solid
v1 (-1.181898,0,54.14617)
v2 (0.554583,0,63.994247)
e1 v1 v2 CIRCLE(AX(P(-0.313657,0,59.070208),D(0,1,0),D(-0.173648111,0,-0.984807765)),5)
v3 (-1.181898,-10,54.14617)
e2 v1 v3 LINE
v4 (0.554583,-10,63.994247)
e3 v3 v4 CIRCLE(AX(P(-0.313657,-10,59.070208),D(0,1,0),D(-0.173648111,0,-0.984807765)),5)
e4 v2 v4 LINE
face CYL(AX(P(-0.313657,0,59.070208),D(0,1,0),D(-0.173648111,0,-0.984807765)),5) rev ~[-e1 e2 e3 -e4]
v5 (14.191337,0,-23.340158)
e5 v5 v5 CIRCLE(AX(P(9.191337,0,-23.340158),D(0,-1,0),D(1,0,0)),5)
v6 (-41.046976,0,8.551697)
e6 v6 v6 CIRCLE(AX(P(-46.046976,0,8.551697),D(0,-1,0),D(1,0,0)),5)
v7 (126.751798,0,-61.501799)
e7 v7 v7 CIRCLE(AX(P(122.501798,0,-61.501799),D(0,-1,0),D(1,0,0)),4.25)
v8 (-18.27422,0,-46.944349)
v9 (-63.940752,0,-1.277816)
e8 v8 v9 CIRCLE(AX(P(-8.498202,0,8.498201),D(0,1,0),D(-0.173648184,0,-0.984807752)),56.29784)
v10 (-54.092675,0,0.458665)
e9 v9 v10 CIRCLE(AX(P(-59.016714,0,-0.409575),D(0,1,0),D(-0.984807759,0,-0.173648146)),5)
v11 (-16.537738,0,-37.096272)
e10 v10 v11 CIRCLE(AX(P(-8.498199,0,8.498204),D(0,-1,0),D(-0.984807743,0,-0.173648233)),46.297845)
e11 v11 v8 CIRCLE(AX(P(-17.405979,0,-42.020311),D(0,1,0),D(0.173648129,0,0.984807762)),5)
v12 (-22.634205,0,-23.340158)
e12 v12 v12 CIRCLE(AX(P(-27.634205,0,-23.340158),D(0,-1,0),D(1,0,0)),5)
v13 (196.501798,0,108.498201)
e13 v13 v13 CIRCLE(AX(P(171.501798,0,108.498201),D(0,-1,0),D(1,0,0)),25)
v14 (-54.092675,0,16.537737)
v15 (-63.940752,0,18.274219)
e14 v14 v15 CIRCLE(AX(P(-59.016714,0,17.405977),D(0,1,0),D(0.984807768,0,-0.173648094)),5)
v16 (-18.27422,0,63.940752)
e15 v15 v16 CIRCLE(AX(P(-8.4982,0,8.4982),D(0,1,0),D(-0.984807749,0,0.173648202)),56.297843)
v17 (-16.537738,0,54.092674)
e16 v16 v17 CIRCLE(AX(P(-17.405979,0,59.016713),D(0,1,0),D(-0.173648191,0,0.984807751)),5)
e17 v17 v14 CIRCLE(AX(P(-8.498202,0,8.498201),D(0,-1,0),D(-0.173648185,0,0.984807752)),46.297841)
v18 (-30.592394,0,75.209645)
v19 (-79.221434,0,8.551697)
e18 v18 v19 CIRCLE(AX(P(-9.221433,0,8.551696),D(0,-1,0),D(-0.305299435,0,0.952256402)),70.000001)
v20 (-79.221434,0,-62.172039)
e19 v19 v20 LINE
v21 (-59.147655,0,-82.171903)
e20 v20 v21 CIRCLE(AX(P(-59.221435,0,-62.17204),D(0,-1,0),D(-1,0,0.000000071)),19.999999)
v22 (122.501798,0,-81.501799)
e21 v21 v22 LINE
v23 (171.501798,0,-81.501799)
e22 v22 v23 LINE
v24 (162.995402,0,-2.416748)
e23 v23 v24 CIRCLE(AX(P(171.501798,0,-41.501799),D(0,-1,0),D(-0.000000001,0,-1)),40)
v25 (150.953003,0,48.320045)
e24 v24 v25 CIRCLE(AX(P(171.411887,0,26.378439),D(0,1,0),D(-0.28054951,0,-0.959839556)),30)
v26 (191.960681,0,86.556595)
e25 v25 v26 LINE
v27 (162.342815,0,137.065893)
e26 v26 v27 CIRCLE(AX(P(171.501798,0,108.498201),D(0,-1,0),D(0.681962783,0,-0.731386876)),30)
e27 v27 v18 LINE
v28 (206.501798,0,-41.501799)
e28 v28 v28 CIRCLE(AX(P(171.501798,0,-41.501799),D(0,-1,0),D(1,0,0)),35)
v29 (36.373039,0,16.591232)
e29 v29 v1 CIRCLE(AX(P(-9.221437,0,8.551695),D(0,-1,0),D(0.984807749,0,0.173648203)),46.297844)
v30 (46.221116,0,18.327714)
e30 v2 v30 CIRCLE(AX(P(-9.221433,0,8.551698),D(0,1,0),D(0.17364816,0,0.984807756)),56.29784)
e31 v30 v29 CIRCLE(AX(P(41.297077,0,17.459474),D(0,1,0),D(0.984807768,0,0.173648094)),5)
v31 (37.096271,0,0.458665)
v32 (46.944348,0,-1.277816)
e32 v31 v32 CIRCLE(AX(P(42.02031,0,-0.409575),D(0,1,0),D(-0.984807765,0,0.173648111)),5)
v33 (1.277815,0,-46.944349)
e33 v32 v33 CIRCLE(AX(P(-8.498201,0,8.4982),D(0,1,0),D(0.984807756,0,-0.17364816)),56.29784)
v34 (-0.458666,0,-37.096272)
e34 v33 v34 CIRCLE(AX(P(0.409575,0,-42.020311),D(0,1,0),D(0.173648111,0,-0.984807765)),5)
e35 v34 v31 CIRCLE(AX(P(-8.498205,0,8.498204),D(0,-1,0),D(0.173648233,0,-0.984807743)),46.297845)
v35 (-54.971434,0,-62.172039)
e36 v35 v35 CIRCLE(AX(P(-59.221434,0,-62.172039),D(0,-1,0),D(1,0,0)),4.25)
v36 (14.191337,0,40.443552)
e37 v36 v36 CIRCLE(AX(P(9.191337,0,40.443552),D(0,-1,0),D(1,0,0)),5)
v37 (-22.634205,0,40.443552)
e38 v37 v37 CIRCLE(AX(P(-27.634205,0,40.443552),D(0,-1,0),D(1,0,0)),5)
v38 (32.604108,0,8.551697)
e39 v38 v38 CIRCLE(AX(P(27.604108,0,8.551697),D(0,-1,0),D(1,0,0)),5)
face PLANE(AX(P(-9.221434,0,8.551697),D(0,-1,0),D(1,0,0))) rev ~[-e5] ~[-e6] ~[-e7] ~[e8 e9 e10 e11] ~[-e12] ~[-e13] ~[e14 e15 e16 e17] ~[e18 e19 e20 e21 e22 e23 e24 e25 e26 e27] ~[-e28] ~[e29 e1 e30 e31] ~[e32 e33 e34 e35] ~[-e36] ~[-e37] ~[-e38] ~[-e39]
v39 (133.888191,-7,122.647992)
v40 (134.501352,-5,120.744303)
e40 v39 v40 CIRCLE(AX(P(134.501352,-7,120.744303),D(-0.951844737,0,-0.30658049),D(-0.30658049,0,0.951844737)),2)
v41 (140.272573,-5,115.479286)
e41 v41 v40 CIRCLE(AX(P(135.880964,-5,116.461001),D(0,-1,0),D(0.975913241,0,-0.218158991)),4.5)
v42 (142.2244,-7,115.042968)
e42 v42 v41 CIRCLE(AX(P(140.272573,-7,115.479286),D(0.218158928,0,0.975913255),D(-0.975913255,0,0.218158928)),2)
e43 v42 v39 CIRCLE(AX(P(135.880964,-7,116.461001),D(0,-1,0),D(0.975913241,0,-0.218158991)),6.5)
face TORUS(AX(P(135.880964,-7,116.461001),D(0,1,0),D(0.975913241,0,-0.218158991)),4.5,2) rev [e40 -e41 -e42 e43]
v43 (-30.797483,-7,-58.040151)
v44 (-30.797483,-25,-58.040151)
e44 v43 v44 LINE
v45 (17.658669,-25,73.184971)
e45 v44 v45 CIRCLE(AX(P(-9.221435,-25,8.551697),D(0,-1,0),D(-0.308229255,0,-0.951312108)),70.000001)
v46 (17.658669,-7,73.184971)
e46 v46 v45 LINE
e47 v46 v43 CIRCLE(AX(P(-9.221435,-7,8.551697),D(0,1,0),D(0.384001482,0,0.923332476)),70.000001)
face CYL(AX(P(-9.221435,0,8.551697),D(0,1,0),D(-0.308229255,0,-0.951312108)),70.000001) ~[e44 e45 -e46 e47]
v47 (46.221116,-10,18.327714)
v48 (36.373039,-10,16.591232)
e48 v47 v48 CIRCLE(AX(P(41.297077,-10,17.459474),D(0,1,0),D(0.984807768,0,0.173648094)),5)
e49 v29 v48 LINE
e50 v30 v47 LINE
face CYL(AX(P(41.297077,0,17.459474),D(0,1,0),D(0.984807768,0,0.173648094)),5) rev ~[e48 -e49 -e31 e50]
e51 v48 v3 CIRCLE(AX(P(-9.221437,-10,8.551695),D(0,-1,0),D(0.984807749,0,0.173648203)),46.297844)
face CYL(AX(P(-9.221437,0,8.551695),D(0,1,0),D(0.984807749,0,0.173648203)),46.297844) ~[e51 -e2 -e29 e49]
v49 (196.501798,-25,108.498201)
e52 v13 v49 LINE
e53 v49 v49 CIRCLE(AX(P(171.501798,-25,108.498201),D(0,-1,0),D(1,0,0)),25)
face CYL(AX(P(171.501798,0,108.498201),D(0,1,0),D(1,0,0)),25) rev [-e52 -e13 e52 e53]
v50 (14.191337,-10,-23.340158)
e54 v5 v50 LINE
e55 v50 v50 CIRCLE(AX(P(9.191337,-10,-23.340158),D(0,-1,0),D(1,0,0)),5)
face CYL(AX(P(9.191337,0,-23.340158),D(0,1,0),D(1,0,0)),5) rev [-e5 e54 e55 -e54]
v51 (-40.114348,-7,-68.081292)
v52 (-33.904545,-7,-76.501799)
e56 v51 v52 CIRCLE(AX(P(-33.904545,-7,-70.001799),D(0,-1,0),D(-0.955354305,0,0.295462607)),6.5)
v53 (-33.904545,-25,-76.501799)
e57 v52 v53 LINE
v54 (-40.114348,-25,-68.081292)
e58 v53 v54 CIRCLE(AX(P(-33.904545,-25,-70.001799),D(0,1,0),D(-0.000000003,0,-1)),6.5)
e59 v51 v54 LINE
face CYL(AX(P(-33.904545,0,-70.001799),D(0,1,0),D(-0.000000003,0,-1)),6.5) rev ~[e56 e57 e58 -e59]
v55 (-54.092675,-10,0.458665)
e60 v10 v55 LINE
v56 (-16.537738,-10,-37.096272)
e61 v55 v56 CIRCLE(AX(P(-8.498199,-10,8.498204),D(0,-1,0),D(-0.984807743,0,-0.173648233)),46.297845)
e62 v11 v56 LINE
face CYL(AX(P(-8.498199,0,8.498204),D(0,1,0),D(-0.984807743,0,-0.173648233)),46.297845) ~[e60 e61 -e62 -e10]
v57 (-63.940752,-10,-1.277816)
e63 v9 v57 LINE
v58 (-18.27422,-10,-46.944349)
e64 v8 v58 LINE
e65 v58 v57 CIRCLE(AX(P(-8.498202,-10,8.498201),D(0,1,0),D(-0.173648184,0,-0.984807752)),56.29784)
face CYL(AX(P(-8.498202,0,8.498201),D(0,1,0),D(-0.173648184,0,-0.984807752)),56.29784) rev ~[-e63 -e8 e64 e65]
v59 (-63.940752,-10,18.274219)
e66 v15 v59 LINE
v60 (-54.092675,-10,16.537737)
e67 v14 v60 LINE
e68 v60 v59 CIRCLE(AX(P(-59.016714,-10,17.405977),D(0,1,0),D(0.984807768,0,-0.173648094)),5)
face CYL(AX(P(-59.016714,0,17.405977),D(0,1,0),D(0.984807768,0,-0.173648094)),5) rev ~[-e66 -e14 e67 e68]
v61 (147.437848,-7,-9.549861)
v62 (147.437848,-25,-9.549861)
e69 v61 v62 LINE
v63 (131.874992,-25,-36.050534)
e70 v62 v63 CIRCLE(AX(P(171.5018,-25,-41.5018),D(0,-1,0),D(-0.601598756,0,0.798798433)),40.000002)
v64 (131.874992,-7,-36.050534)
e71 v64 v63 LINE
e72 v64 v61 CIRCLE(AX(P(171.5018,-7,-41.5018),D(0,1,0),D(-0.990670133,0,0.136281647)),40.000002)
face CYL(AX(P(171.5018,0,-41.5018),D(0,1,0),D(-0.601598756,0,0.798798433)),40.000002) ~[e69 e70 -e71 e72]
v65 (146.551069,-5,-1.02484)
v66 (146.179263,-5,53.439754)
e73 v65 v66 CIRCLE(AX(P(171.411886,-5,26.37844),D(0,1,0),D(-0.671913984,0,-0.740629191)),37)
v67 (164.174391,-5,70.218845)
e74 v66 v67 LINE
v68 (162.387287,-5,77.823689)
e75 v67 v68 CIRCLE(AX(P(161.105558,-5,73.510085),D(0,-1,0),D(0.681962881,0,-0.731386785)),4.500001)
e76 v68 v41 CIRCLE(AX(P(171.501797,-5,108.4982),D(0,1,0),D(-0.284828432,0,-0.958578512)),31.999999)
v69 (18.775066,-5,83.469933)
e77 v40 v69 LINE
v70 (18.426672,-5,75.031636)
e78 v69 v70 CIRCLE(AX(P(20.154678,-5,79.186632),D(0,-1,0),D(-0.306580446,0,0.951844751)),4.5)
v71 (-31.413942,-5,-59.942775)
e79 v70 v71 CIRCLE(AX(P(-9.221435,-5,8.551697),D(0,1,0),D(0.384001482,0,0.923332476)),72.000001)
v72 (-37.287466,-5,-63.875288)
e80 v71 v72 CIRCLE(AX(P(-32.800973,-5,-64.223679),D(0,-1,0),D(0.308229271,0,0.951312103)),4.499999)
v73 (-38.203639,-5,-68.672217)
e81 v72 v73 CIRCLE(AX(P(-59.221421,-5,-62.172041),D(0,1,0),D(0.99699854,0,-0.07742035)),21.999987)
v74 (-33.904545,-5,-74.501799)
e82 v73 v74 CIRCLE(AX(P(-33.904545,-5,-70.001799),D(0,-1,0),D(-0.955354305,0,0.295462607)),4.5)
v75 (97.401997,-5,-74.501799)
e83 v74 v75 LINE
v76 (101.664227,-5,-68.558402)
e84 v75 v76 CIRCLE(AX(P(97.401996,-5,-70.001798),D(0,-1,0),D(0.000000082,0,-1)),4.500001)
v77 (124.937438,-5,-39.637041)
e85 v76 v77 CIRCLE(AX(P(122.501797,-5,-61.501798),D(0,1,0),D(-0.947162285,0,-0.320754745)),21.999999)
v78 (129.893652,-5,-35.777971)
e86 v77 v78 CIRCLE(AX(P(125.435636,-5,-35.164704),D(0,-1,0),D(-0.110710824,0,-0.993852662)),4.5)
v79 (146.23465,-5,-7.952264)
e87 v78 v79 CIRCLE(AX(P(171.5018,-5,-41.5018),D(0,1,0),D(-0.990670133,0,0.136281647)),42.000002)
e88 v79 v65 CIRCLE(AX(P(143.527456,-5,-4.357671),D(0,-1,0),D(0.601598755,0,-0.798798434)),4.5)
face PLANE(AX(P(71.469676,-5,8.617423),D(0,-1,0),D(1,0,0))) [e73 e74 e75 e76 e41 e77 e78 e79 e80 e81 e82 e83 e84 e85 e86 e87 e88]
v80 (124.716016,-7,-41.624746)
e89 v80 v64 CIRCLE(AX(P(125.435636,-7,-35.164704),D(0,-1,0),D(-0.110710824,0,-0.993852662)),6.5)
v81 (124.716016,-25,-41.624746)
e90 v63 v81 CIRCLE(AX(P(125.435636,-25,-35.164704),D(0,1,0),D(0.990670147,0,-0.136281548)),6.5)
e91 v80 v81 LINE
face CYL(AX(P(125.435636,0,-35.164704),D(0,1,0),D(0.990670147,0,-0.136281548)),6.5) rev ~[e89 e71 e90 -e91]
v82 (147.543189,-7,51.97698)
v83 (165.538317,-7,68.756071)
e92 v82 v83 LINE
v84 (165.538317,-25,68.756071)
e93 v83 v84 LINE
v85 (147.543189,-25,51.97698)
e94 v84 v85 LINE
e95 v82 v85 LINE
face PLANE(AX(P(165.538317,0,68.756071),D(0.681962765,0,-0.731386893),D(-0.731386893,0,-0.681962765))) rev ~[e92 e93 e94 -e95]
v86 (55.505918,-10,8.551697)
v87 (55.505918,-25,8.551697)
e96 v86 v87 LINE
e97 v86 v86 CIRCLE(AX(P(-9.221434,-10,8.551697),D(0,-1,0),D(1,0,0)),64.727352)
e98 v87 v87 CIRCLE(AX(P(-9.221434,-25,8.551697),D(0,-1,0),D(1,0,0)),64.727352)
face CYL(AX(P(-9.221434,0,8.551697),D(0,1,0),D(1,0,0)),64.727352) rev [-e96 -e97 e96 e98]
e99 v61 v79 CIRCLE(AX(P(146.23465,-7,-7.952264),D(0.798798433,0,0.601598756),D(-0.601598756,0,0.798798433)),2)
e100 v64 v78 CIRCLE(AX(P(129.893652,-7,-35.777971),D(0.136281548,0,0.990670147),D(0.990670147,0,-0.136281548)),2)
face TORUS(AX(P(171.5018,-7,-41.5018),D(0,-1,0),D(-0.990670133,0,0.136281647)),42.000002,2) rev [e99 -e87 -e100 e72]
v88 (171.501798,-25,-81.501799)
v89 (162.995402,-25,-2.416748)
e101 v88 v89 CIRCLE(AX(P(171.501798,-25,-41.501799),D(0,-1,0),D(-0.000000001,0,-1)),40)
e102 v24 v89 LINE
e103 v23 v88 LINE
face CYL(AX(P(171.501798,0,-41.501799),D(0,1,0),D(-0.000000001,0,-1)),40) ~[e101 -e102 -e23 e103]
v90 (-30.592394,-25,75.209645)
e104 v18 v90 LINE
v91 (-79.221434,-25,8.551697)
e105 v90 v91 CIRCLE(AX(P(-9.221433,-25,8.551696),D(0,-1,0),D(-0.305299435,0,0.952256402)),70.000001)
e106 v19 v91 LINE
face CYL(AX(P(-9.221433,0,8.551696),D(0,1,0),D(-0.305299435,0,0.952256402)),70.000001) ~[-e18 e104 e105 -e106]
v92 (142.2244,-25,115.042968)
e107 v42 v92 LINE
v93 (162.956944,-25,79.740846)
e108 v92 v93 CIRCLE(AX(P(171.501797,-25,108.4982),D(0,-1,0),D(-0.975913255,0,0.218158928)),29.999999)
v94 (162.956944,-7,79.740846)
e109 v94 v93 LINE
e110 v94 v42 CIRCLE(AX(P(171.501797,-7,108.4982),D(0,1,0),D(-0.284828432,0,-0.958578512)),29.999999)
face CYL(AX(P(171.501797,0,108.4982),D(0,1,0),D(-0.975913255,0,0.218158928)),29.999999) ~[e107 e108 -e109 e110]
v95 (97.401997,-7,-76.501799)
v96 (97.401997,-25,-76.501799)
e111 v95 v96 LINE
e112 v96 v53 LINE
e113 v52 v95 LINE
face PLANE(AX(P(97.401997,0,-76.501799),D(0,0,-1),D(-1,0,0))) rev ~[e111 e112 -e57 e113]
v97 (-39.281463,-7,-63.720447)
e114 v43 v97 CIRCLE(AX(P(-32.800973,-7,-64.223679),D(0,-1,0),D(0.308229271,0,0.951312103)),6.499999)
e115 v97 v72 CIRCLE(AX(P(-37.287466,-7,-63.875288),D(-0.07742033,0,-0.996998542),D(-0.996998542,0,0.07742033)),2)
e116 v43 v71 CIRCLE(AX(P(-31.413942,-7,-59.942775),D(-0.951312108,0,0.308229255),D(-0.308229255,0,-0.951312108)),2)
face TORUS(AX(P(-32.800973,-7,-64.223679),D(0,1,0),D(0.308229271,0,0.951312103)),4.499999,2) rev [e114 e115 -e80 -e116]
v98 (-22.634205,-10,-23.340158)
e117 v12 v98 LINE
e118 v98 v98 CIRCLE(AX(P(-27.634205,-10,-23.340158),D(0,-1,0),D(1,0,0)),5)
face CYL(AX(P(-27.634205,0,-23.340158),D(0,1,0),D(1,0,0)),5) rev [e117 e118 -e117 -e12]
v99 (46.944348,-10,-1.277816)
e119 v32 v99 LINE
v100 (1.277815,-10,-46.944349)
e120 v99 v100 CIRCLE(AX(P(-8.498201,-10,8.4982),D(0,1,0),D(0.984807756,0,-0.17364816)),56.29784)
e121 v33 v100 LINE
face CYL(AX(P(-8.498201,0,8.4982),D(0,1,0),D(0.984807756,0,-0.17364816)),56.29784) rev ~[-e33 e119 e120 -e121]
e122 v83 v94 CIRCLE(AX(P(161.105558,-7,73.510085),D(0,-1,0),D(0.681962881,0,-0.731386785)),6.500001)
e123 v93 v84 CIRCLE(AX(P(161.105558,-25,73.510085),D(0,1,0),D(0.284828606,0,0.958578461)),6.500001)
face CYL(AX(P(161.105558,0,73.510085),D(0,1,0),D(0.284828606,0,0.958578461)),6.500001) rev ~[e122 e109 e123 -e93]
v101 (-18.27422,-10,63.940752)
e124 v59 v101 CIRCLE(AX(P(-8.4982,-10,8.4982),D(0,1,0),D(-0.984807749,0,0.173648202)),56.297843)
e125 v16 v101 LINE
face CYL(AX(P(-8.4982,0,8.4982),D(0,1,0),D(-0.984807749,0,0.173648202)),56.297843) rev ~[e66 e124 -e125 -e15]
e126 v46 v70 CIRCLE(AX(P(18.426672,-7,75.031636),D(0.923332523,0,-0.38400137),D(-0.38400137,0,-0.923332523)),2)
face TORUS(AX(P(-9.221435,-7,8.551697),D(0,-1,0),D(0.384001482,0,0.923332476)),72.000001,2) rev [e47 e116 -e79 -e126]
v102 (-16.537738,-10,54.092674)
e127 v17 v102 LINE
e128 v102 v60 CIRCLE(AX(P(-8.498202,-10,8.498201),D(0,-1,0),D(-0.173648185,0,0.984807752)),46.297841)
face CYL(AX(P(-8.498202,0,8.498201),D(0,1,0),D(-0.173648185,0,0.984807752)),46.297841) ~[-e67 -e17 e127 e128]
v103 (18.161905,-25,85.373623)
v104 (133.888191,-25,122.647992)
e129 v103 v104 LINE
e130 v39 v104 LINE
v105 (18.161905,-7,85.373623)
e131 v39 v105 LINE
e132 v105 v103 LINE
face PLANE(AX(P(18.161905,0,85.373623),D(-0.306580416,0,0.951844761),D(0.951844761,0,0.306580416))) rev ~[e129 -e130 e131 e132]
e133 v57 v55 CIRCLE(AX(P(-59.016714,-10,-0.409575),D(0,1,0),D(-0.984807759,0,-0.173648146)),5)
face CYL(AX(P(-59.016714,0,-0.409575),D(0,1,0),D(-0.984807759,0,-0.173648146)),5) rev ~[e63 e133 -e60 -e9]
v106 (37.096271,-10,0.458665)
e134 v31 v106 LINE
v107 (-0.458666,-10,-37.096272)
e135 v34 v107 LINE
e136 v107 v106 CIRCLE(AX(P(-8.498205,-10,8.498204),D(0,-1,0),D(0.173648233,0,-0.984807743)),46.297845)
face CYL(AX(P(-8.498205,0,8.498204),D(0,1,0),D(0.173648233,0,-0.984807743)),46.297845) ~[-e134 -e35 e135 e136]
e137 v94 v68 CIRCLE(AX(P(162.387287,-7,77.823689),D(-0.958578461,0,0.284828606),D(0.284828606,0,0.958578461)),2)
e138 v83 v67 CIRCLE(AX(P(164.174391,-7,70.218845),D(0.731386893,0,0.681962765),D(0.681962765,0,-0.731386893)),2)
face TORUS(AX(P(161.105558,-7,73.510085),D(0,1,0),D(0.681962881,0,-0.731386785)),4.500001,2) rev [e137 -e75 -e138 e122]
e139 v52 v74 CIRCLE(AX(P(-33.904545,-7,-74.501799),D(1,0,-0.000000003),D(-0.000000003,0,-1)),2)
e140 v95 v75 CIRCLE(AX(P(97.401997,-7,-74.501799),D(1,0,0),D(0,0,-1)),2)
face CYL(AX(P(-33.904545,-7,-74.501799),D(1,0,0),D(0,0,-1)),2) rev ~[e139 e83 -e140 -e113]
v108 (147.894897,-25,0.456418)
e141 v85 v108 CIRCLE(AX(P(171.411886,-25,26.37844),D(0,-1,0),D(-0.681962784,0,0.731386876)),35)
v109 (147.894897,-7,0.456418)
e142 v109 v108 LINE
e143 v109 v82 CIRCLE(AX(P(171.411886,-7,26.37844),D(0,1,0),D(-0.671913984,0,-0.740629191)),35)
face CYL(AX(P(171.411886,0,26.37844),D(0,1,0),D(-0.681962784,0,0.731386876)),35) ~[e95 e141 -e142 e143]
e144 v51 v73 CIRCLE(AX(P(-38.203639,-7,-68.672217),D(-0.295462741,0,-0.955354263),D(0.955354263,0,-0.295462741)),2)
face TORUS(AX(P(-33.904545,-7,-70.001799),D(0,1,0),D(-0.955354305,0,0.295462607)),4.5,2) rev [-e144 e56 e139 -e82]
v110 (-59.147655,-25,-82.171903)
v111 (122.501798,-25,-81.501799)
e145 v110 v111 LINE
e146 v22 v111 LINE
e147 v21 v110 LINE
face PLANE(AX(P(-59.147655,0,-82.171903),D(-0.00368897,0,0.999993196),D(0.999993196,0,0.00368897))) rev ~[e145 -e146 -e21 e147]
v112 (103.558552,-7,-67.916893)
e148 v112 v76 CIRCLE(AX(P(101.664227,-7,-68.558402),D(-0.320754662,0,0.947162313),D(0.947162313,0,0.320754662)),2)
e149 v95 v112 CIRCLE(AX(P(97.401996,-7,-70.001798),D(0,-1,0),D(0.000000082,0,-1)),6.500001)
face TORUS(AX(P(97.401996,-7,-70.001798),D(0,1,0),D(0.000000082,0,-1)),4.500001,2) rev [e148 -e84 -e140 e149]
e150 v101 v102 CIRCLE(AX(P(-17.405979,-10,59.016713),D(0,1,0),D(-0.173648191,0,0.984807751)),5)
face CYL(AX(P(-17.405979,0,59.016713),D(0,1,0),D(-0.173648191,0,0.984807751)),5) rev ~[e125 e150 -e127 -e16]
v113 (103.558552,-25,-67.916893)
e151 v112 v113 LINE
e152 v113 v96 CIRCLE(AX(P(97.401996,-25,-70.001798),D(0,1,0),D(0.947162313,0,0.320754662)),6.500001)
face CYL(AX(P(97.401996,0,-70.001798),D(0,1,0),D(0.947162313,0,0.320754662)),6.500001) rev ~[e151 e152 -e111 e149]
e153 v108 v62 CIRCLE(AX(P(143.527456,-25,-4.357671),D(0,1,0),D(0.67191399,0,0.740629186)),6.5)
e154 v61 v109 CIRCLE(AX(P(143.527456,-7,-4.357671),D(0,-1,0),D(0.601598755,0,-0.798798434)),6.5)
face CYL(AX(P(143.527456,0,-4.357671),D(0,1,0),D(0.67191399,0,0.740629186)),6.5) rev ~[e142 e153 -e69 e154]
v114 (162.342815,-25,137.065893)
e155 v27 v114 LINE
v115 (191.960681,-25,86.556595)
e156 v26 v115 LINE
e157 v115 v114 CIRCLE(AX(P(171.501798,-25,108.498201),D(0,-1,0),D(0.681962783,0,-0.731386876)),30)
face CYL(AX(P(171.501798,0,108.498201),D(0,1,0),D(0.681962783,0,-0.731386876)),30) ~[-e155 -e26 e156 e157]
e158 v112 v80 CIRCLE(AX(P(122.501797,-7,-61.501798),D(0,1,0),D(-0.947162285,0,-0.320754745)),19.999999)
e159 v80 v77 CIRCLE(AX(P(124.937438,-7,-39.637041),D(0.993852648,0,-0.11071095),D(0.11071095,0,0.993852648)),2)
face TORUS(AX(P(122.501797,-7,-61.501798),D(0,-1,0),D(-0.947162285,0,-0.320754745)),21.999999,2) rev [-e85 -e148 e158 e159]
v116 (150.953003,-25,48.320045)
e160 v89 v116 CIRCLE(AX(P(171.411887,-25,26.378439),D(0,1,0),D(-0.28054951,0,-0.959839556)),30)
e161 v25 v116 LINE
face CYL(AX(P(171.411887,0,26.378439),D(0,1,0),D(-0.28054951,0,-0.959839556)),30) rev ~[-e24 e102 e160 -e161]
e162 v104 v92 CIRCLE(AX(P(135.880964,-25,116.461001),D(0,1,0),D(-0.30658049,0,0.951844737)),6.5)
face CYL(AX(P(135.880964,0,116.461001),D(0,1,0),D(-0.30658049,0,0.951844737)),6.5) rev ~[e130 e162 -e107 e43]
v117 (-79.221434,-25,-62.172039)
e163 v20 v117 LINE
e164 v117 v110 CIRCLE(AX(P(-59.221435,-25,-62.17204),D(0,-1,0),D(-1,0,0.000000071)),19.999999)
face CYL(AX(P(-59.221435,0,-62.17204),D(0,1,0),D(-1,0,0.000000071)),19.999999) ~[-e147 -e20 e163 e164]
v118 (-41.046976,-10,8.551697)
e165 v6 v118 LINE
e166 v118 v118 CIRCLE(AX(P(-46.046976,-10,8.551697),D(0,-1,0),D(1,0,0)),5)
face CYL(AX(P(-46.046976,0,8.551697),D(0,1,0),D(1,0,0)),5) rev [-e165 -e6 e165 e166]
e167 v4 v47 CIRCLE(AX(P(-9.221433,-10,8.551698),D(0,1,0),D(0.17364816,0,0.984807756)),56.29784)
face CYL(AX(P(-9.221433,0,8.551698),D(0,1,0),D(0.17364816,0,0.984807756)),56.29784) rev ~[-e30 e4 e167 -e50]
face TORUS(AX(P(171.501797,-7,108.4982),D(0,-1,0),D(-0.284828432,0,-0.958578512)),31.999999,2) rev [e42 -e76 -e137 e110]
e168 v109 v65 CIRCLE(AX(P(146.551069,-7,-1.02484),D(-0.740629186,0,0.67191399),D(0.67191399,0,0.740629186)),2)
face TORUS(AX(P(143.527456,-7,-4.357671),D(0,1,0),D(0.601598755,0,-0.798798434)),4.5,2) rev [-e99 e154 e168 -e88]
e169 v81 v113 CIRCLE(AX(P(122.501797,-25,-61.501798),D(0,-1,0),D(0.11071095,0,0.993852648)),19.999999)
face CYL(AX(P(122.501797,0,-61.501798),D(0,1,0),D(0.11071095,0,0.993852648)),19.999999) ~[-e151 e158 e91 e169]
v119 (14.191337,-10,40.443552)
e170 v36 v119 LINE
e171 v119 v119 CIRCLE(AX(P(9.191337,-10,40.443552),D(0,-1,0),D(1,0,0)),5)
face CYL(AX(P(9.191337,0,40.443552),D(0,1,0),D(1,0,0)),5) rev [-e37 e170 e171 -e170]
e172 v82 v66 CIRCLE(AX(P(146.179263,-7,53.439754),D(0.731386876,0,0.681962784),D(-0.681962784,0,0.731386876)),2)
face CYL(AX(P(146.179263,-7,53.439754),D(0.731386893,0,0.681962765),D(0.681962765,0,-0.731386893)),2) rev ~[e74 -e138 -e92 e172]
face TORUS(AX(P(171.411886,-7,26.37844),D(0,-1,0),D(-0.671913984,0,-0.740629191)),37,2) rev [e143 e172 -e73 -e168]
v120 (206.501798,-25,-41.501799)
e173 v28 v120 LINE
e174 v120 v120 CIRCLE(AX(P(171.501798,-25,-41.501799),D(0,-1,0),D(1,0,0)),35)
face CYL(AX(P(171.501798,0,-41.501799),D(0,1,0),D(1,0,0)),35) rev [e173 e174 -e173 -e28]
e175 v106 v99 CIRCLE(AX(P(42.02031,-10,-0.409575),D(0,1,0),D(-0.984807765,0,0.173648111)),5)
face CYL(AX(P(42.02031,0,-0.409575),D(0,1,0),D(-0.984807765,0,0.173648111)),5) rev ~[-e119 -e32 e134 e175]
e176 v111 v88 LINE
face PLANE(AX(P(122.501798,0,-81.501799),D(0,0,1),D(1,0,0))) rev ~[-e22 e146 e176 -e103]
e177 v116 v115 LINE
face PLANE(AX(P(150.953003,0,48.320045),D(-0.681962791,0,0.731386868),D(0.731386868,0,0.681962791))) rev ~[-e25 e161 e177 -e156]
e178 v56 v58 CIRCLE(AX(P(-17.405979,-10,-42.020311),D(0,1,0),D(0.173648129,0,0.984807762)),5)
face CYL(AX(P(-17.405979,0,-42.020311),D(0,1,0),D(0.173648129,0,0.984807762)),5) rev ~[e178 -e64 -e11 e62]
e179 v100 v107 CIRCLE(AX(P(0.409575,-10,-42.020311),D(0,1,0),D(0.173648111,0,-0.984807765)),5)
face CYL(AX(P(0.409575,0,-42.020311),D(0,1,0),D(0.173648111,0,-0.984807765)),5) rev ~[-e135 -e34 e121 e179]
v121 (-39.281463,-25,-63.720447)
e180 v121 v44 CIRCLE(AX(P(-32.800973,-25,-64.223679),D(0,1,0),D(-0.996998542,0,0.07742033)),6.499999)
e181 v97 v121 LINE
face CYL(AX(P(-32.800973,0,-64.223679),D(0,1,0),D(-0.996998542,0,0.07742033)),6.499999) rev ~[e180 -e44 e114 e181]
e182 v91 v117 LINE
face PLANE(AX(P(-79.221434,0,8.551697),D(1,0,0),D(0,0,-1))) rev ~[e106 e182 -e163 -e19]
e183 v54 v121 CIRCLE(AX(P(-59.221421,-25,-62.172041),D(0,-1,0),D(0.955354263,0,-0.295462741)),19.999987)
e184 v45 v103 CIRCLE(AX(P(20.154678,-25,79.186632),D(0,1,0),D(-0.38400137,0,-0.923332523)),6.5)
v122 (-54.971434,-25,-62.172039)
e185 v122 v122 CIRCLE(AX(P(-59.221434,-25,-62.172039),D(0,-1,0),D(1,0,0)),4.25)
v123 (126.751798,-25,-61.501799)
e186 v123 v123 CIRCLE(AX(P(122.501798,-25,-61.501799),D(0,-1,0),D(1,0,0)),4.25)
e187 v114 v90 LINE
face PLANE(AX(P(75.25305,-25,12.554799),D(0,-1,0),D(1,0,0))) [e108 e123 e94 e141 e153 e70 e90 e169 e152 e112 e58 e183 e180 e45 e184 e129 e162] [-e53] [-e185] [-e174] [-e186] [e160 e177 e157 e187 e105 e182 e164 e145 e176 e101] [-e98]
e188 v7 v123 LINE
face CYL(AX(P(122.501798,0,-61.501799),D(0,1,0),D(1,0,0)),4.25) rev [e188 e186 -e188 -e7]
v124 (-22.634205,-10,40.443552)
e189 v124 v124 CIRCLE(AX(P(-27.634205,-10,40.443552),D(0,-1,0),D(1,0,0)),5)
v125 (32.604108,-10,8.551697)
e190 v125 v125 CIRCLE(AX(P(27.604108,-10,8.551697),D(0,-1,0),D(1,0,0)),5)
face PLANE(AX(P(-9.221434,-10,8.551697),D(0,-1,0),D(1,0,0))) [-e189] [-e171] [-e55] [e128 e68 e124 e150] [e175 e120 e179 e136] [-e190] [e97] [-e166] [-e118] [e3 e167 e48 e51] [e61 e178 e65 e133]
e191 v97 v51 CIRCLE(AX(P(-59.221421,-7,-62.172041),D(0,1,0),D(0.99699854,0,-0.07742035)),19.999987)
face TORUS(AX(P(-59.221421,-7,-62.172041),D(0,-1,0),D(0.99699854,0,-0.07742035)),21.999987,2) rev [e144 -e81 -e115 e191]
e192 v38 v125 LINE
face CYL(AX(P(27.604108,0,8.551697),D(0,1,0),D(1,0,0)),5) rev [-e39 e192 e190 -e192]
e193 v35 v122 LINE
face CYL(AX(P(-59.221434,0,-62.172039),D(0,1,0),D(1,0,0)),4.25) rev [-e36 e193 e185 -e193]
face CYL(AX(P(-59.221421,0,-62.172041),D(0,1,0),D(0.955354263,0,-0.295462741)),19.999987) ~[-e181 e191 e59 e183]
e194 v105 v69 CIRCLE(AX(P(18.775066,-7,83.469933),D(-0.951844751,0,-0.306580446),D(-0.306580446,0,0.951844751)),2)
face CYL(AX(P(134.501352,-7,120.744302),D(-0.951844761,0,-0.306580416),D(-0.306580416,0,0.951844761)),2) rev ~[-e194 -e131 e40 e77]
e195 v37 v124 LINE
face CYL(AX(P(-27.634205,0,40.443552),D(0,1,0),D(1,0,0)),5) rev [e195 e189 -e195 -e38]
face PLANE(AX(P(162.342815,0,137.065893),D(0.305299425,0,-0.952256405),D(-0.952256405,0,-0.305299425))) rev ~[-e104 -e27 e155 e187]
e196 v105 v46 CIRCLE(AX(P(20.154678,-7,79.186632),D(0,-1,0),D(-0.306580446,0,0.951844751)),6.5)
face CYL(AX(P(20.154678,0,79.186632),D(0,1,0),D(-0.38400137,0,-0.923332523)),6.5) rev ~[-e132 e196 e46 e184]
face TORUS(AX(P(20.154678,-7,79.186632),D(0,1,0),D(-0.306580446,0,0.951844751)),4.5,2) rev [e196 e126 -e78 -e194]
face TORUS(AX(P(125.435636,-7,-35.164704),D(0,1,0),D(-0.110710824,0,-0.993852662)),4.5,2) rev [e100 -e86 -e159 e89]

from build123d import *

# Parameters (mm, degrees)
F0_R     = 4.25
F0_R_2   = 64.727352
F0_R_3   = 35
F0_R_4   = 25
F1_DEPTH = 25
F2_DEPTH = 5
F0_R_5   = 5
F3_DEPTH = 10
F4_R     = 2


with BuildPart() as f1:
    # F0 (on Front) → F1 (new body)
    with BuildSketch(Plane.XZ):
        with BuildLine():
            Line((-79.221434, 8.551697), (-79.221434, -62.172039))
            ThreePointArc((-79.221434, -62.172039), (-73.337461, -76.340236), (-59.147655, -82.171903))
            Line((-59.147655, -82.171903), (122.501798, -81.501799))
            Line((122.501798, -81.501799), (171.501798, -81.501799))
            ThreePointArc((171.501798, -81.501799), (211.272403, -37.224069), (162.995402, -2.416748))
            ThreePointArc((162.995402, -2.416748), (142.222809, 19.4504), (150.953003, 48.320045))
            Line((150.953003, 48.320045), (191.960681, 86.556595))
            ThreePointArc((191.960681, 86.556595), (197.380732, 123.673205), (162.342815, 137.065893))
            Line((162.342815, 137.065893), (-30.592394, 75.209645))
            ThreePointArc((-30.592394, 75.209645), (-65.772151, 49.807198), (-79.221434, 8.551697))
        make_face()
        with Locations((-59.221434, -62.172039)):
            Circle(F0_R, mode=Mode.SUBTRACT)
        with Locations((-9.221434, 8.551697)):
            Circle(F0_R_2, mode=Mode.SUBTRACT)
        with BuildLine():
            ThreePointArc((-39.281463, -63.720447), (-36.417231, -58.822506), (-30.797483, -58.040151))
            ThreePointArc((-30.797483, -58.040151), (56.444701, -15.696162), (17.658669, 73.184971))
            ThreePointArc((17.658669, 73.184971), (13.660211, 79.454771), (18.161905, 85.373623))
            Line((18.161905, 85.373623), (133.888191, 122.647992))
            ThreePointArc((133.888191, 122.647992), (140.261736, 121.262963), (142.2244, 115.042968))
            ThreePointArc((142.2244, 115.042968), (145.633078, 93.30579), (162.956944, 79.740846))
            ThreePointArc((162.956944, 79.740846), (167.433191, 74.997051), (165.538317, 68.756071))
            Line((165.538317, 68.756071), (147.543189, 51.97698))
            ThreePointArc((147.543189, 51.97698), (136.412702, 26.139516), (147.894897, 0.456418))
            ThreePointArc((147.894897, 0.456418), (150.020686, -4.654258), (147.437848, -9.549861))
            ThreePointArc((147.437848, -9.549861), (137.009777, -21.245923), (131.874992, -36.050534))
            ThreePointArc((131.874992, -36.050534), (129.428981, -40.293368), (124.716016, -41.624746))
            ThreePointArc((124.716016, -41.624746), (106.920259, -48.963232), (103.558552, -67.916893))
            ThreePointArc((103.558552, -67.916893), (102.684131, -73.789814), (97.401997, -76.501799))
            Line((97.401997, -76.501799), (-33.904545, -76.501799))
            ThreePointArc((-33.904545, -76.501799), (-39.135859, -73.859694), (-40.114348, -68.081292))
            ThreePointArc((-40.114348, -68.081292), (-39.576526, -65.924052), (-39.281463, -63.720447))
        make_face(mode=Mode.SUBTRACT)
        with Locations((122.501798, -61.501799)):
            Circle(F0_R, mode=Mode.SUBTRACT)
        with Locations((171.501798, -41.501799)):
            Circle(F0_R_3, mode=Mode.SUBTRACT)
        with Locations((171.501798, 108.498201)):
            Circle(F0_R_4, mode=Mode.SUBTRACT)
    extrude(amount=F1_DEPTH)

    # F0 (on Front) → F2 (join)
    with BuildSketch(Plane.XZ):
        with BuildLine():
            ThreePointArc((17.658669, 73.184971), (56.444701, -15.696162), (-30.797483, -58.040151))
            ThreePointArc((-30.797483, -58.040151), (-36.417231, -58.822506), (-39.281463, -63.720447))
            ThreePointArc((-39.281463, -63.720447), (-39.576526, -65.924052), (-40.114348, -68.081292))
            ThreePointArc((-40.114348, -68.081292), (-39.135859, -73.859694), (-33.904545, -76.501799))
            Line((-33.904545, -76.501799), (97.401997, -76.501799))
            ThreePointArc((97.401997, -76.501799), (102.684131, -73.789814), (103.558552, -67.916893))
            ThreePointArc((103.558552, -67.916893), (106.920259, -48.963232), (124.716016, -41.624746))
            ThreePointArc((124.716016, -41.624746), (129.428981, -40.293368), (131.874992, -36.050534))
            ThreePointArc((131.874992, -36.050534), (137.009777, -21.245923), (147.437848, -9.549861))
            ThreePointArc((147.437848, -9.549861), (150.020686, -4.654258), (147.894897, 0.456418))
            ThreePointArc((147.894897, 0.456418), (136.412702, 26.139516), (147.543189, 51.97698))
            Line((147.543189, 51.97698), (165.538317, 68.756071))
            ThreePointArc((165.538317, 68.756071), (167.433191, 74.997051), (162.956944, 79.740846))
            ThreePointArc((162.956944, 79.740846), (145.633078, 93.30579), (142.2244, 115.042968))
            ThreePointArc((142.2244, 115.042968), (140.261736, 121.262963), (133.888191, 122.647992))
            Line((133.888191, 122.647992), (18.161905, 85.373623))
            ThreePointArc((18.161905, 85.373623), (13.660211, 79.454771), (17.658669, 73.184971))
        make_face()
    extrude(amount=F2_DEPTH)

    # F0 (on Front) → F3 (join)
    with BuildSketch(Plane.XZ):
        with Locations((-9.221434, 8.551697)):
            Circle(F0_R_2)
        with BuildLine():
            ThreePointArc((-63.940752, -1.277816), (-59.884955, 4.514463), (-54.092675, 0.458665))
            ThreePointArc((-54.092675, 0.458665), (-41.235719, -24.239316), (-16.537738, -37.096272))
            ThreePointArc((-16.537738, -37.096272), (-12.48194, -42.888551), (-18.27422, -46.944349))
            ThreePointArc((-18.27422, -46.944349), (-48.306787, -31.310384), (-63.940752, -1.277816))
        make_face(mode=Mode.SUBTRACT)
        with Locations((-27.634205, -23.340158)):
            Circle(F0_R_5, mode=Mode.SUBTRACT)
        with Locations((-46.046976, 8.551697)):
            Circle(F0_R_5, mode=Mode.SUBTRACT)
        with Locations((9.191337, -23.340158)):
            Circle(F0_R_5, mode=Mode.SUBTRACT)
        with BuildLine():
            ThreePointArc((46.944348, -1.277816), (31.310383, -31.310384), (1.277815, -46.944349))
            ThreePointArc((1.277815, -46.944349), (-4.514464, -42.888551), (-0.458666, -37.096272))
            ThreePointArc((-0.458666, -37.096272), (24.239315, -24.239316), (37.096271, 0.458665))
            ThreePointArc((37.096271, 0.458665), (42.88855, 4.514463), (46.944348, -1.277816))
        make_face(mode=Mode.SUBTRACT)
        with Locations((27.604108, 8.551697)):
            Circle(F0_R_5, mode=Mode.SUBTRACT)
        with BuildLine():
            ThreePointArc((-63.940752, 18.274219), (-48.306787, 48.306786), (-18.27422, 63.940752))
            ThreePointArc((-18.27422, 63.940752), (-12.48194, 59.884954), (-16.537738, 54.092674))
            ThreePointArc((-16.537738, 54.092674), (-41.235719, 41.235719), (-54.092675, 16.537737))
            ThreePointArc((-54.092675, 16.537737), (-59.884955, 12.481939), (-63.940752, 18.274219))
        make_face(mode=Mode.SUBTRACT)
        with Locations((-27.634205, 40.443552)):
            Circle(F0_R_5, mode=Mode.SUBTRACT)
        with Locations((9.191337, 40.443552)):
            Circle(F0_R_5, mode=Mode.SUBTRACT)
        with BuildLine():
            ThreePointArc((46.221116, 18.327714), (42.165318, 12.535435), (36.373039, 16.591232))
            ThreePointArc((36.373039, 16.591232), (23.516083, 41.289214), (-1.181898, 54.14617))
            ThreePointArc((-1.181898, 54.14617), (-5.237696, 59.938449), (0.554583, 63.994247))
            ThreePointArc((0.554583, 63.994247), (30.587151, 48.360282), (46.221116, 18.327714))
        make_face(mode=Mode.SUBTRACT)
    extrude(amount=F3_DEPTH)

    # F4
    f4_edges = [f1.edges().sort_by_distance(p)[0] for p in [
        (13.660211, -5, 79.454771),
        (56.444701, -5, -15.696162),
        (-36.417231, -5, -58.822506),
        (-39.576526, -5, -65.924052),
        (-39.135859, -5, -73.859694),
        (31.748726, -5, -76.501799),
        (102.684131, -5, -73.789814),
        (106.920259, -5, -48.963232),
        (129.428981, -5, -40.293368),
        (137.009777, -5, -21.245923),
        (150.020686, -5, -4.654258),
        (136.412702, -5, 26.139516),
        (156.540753, -5, 60.366526),
        (167.433191, -5, 74.997051),
        (145.633078, -5, 93.30579),
        (140.261736, -5, 121.262963),
        (76.025048, -5, 104.010807),
    ]]
    fillet(f4_edges, radius=F4_R)


solid = f1.part
